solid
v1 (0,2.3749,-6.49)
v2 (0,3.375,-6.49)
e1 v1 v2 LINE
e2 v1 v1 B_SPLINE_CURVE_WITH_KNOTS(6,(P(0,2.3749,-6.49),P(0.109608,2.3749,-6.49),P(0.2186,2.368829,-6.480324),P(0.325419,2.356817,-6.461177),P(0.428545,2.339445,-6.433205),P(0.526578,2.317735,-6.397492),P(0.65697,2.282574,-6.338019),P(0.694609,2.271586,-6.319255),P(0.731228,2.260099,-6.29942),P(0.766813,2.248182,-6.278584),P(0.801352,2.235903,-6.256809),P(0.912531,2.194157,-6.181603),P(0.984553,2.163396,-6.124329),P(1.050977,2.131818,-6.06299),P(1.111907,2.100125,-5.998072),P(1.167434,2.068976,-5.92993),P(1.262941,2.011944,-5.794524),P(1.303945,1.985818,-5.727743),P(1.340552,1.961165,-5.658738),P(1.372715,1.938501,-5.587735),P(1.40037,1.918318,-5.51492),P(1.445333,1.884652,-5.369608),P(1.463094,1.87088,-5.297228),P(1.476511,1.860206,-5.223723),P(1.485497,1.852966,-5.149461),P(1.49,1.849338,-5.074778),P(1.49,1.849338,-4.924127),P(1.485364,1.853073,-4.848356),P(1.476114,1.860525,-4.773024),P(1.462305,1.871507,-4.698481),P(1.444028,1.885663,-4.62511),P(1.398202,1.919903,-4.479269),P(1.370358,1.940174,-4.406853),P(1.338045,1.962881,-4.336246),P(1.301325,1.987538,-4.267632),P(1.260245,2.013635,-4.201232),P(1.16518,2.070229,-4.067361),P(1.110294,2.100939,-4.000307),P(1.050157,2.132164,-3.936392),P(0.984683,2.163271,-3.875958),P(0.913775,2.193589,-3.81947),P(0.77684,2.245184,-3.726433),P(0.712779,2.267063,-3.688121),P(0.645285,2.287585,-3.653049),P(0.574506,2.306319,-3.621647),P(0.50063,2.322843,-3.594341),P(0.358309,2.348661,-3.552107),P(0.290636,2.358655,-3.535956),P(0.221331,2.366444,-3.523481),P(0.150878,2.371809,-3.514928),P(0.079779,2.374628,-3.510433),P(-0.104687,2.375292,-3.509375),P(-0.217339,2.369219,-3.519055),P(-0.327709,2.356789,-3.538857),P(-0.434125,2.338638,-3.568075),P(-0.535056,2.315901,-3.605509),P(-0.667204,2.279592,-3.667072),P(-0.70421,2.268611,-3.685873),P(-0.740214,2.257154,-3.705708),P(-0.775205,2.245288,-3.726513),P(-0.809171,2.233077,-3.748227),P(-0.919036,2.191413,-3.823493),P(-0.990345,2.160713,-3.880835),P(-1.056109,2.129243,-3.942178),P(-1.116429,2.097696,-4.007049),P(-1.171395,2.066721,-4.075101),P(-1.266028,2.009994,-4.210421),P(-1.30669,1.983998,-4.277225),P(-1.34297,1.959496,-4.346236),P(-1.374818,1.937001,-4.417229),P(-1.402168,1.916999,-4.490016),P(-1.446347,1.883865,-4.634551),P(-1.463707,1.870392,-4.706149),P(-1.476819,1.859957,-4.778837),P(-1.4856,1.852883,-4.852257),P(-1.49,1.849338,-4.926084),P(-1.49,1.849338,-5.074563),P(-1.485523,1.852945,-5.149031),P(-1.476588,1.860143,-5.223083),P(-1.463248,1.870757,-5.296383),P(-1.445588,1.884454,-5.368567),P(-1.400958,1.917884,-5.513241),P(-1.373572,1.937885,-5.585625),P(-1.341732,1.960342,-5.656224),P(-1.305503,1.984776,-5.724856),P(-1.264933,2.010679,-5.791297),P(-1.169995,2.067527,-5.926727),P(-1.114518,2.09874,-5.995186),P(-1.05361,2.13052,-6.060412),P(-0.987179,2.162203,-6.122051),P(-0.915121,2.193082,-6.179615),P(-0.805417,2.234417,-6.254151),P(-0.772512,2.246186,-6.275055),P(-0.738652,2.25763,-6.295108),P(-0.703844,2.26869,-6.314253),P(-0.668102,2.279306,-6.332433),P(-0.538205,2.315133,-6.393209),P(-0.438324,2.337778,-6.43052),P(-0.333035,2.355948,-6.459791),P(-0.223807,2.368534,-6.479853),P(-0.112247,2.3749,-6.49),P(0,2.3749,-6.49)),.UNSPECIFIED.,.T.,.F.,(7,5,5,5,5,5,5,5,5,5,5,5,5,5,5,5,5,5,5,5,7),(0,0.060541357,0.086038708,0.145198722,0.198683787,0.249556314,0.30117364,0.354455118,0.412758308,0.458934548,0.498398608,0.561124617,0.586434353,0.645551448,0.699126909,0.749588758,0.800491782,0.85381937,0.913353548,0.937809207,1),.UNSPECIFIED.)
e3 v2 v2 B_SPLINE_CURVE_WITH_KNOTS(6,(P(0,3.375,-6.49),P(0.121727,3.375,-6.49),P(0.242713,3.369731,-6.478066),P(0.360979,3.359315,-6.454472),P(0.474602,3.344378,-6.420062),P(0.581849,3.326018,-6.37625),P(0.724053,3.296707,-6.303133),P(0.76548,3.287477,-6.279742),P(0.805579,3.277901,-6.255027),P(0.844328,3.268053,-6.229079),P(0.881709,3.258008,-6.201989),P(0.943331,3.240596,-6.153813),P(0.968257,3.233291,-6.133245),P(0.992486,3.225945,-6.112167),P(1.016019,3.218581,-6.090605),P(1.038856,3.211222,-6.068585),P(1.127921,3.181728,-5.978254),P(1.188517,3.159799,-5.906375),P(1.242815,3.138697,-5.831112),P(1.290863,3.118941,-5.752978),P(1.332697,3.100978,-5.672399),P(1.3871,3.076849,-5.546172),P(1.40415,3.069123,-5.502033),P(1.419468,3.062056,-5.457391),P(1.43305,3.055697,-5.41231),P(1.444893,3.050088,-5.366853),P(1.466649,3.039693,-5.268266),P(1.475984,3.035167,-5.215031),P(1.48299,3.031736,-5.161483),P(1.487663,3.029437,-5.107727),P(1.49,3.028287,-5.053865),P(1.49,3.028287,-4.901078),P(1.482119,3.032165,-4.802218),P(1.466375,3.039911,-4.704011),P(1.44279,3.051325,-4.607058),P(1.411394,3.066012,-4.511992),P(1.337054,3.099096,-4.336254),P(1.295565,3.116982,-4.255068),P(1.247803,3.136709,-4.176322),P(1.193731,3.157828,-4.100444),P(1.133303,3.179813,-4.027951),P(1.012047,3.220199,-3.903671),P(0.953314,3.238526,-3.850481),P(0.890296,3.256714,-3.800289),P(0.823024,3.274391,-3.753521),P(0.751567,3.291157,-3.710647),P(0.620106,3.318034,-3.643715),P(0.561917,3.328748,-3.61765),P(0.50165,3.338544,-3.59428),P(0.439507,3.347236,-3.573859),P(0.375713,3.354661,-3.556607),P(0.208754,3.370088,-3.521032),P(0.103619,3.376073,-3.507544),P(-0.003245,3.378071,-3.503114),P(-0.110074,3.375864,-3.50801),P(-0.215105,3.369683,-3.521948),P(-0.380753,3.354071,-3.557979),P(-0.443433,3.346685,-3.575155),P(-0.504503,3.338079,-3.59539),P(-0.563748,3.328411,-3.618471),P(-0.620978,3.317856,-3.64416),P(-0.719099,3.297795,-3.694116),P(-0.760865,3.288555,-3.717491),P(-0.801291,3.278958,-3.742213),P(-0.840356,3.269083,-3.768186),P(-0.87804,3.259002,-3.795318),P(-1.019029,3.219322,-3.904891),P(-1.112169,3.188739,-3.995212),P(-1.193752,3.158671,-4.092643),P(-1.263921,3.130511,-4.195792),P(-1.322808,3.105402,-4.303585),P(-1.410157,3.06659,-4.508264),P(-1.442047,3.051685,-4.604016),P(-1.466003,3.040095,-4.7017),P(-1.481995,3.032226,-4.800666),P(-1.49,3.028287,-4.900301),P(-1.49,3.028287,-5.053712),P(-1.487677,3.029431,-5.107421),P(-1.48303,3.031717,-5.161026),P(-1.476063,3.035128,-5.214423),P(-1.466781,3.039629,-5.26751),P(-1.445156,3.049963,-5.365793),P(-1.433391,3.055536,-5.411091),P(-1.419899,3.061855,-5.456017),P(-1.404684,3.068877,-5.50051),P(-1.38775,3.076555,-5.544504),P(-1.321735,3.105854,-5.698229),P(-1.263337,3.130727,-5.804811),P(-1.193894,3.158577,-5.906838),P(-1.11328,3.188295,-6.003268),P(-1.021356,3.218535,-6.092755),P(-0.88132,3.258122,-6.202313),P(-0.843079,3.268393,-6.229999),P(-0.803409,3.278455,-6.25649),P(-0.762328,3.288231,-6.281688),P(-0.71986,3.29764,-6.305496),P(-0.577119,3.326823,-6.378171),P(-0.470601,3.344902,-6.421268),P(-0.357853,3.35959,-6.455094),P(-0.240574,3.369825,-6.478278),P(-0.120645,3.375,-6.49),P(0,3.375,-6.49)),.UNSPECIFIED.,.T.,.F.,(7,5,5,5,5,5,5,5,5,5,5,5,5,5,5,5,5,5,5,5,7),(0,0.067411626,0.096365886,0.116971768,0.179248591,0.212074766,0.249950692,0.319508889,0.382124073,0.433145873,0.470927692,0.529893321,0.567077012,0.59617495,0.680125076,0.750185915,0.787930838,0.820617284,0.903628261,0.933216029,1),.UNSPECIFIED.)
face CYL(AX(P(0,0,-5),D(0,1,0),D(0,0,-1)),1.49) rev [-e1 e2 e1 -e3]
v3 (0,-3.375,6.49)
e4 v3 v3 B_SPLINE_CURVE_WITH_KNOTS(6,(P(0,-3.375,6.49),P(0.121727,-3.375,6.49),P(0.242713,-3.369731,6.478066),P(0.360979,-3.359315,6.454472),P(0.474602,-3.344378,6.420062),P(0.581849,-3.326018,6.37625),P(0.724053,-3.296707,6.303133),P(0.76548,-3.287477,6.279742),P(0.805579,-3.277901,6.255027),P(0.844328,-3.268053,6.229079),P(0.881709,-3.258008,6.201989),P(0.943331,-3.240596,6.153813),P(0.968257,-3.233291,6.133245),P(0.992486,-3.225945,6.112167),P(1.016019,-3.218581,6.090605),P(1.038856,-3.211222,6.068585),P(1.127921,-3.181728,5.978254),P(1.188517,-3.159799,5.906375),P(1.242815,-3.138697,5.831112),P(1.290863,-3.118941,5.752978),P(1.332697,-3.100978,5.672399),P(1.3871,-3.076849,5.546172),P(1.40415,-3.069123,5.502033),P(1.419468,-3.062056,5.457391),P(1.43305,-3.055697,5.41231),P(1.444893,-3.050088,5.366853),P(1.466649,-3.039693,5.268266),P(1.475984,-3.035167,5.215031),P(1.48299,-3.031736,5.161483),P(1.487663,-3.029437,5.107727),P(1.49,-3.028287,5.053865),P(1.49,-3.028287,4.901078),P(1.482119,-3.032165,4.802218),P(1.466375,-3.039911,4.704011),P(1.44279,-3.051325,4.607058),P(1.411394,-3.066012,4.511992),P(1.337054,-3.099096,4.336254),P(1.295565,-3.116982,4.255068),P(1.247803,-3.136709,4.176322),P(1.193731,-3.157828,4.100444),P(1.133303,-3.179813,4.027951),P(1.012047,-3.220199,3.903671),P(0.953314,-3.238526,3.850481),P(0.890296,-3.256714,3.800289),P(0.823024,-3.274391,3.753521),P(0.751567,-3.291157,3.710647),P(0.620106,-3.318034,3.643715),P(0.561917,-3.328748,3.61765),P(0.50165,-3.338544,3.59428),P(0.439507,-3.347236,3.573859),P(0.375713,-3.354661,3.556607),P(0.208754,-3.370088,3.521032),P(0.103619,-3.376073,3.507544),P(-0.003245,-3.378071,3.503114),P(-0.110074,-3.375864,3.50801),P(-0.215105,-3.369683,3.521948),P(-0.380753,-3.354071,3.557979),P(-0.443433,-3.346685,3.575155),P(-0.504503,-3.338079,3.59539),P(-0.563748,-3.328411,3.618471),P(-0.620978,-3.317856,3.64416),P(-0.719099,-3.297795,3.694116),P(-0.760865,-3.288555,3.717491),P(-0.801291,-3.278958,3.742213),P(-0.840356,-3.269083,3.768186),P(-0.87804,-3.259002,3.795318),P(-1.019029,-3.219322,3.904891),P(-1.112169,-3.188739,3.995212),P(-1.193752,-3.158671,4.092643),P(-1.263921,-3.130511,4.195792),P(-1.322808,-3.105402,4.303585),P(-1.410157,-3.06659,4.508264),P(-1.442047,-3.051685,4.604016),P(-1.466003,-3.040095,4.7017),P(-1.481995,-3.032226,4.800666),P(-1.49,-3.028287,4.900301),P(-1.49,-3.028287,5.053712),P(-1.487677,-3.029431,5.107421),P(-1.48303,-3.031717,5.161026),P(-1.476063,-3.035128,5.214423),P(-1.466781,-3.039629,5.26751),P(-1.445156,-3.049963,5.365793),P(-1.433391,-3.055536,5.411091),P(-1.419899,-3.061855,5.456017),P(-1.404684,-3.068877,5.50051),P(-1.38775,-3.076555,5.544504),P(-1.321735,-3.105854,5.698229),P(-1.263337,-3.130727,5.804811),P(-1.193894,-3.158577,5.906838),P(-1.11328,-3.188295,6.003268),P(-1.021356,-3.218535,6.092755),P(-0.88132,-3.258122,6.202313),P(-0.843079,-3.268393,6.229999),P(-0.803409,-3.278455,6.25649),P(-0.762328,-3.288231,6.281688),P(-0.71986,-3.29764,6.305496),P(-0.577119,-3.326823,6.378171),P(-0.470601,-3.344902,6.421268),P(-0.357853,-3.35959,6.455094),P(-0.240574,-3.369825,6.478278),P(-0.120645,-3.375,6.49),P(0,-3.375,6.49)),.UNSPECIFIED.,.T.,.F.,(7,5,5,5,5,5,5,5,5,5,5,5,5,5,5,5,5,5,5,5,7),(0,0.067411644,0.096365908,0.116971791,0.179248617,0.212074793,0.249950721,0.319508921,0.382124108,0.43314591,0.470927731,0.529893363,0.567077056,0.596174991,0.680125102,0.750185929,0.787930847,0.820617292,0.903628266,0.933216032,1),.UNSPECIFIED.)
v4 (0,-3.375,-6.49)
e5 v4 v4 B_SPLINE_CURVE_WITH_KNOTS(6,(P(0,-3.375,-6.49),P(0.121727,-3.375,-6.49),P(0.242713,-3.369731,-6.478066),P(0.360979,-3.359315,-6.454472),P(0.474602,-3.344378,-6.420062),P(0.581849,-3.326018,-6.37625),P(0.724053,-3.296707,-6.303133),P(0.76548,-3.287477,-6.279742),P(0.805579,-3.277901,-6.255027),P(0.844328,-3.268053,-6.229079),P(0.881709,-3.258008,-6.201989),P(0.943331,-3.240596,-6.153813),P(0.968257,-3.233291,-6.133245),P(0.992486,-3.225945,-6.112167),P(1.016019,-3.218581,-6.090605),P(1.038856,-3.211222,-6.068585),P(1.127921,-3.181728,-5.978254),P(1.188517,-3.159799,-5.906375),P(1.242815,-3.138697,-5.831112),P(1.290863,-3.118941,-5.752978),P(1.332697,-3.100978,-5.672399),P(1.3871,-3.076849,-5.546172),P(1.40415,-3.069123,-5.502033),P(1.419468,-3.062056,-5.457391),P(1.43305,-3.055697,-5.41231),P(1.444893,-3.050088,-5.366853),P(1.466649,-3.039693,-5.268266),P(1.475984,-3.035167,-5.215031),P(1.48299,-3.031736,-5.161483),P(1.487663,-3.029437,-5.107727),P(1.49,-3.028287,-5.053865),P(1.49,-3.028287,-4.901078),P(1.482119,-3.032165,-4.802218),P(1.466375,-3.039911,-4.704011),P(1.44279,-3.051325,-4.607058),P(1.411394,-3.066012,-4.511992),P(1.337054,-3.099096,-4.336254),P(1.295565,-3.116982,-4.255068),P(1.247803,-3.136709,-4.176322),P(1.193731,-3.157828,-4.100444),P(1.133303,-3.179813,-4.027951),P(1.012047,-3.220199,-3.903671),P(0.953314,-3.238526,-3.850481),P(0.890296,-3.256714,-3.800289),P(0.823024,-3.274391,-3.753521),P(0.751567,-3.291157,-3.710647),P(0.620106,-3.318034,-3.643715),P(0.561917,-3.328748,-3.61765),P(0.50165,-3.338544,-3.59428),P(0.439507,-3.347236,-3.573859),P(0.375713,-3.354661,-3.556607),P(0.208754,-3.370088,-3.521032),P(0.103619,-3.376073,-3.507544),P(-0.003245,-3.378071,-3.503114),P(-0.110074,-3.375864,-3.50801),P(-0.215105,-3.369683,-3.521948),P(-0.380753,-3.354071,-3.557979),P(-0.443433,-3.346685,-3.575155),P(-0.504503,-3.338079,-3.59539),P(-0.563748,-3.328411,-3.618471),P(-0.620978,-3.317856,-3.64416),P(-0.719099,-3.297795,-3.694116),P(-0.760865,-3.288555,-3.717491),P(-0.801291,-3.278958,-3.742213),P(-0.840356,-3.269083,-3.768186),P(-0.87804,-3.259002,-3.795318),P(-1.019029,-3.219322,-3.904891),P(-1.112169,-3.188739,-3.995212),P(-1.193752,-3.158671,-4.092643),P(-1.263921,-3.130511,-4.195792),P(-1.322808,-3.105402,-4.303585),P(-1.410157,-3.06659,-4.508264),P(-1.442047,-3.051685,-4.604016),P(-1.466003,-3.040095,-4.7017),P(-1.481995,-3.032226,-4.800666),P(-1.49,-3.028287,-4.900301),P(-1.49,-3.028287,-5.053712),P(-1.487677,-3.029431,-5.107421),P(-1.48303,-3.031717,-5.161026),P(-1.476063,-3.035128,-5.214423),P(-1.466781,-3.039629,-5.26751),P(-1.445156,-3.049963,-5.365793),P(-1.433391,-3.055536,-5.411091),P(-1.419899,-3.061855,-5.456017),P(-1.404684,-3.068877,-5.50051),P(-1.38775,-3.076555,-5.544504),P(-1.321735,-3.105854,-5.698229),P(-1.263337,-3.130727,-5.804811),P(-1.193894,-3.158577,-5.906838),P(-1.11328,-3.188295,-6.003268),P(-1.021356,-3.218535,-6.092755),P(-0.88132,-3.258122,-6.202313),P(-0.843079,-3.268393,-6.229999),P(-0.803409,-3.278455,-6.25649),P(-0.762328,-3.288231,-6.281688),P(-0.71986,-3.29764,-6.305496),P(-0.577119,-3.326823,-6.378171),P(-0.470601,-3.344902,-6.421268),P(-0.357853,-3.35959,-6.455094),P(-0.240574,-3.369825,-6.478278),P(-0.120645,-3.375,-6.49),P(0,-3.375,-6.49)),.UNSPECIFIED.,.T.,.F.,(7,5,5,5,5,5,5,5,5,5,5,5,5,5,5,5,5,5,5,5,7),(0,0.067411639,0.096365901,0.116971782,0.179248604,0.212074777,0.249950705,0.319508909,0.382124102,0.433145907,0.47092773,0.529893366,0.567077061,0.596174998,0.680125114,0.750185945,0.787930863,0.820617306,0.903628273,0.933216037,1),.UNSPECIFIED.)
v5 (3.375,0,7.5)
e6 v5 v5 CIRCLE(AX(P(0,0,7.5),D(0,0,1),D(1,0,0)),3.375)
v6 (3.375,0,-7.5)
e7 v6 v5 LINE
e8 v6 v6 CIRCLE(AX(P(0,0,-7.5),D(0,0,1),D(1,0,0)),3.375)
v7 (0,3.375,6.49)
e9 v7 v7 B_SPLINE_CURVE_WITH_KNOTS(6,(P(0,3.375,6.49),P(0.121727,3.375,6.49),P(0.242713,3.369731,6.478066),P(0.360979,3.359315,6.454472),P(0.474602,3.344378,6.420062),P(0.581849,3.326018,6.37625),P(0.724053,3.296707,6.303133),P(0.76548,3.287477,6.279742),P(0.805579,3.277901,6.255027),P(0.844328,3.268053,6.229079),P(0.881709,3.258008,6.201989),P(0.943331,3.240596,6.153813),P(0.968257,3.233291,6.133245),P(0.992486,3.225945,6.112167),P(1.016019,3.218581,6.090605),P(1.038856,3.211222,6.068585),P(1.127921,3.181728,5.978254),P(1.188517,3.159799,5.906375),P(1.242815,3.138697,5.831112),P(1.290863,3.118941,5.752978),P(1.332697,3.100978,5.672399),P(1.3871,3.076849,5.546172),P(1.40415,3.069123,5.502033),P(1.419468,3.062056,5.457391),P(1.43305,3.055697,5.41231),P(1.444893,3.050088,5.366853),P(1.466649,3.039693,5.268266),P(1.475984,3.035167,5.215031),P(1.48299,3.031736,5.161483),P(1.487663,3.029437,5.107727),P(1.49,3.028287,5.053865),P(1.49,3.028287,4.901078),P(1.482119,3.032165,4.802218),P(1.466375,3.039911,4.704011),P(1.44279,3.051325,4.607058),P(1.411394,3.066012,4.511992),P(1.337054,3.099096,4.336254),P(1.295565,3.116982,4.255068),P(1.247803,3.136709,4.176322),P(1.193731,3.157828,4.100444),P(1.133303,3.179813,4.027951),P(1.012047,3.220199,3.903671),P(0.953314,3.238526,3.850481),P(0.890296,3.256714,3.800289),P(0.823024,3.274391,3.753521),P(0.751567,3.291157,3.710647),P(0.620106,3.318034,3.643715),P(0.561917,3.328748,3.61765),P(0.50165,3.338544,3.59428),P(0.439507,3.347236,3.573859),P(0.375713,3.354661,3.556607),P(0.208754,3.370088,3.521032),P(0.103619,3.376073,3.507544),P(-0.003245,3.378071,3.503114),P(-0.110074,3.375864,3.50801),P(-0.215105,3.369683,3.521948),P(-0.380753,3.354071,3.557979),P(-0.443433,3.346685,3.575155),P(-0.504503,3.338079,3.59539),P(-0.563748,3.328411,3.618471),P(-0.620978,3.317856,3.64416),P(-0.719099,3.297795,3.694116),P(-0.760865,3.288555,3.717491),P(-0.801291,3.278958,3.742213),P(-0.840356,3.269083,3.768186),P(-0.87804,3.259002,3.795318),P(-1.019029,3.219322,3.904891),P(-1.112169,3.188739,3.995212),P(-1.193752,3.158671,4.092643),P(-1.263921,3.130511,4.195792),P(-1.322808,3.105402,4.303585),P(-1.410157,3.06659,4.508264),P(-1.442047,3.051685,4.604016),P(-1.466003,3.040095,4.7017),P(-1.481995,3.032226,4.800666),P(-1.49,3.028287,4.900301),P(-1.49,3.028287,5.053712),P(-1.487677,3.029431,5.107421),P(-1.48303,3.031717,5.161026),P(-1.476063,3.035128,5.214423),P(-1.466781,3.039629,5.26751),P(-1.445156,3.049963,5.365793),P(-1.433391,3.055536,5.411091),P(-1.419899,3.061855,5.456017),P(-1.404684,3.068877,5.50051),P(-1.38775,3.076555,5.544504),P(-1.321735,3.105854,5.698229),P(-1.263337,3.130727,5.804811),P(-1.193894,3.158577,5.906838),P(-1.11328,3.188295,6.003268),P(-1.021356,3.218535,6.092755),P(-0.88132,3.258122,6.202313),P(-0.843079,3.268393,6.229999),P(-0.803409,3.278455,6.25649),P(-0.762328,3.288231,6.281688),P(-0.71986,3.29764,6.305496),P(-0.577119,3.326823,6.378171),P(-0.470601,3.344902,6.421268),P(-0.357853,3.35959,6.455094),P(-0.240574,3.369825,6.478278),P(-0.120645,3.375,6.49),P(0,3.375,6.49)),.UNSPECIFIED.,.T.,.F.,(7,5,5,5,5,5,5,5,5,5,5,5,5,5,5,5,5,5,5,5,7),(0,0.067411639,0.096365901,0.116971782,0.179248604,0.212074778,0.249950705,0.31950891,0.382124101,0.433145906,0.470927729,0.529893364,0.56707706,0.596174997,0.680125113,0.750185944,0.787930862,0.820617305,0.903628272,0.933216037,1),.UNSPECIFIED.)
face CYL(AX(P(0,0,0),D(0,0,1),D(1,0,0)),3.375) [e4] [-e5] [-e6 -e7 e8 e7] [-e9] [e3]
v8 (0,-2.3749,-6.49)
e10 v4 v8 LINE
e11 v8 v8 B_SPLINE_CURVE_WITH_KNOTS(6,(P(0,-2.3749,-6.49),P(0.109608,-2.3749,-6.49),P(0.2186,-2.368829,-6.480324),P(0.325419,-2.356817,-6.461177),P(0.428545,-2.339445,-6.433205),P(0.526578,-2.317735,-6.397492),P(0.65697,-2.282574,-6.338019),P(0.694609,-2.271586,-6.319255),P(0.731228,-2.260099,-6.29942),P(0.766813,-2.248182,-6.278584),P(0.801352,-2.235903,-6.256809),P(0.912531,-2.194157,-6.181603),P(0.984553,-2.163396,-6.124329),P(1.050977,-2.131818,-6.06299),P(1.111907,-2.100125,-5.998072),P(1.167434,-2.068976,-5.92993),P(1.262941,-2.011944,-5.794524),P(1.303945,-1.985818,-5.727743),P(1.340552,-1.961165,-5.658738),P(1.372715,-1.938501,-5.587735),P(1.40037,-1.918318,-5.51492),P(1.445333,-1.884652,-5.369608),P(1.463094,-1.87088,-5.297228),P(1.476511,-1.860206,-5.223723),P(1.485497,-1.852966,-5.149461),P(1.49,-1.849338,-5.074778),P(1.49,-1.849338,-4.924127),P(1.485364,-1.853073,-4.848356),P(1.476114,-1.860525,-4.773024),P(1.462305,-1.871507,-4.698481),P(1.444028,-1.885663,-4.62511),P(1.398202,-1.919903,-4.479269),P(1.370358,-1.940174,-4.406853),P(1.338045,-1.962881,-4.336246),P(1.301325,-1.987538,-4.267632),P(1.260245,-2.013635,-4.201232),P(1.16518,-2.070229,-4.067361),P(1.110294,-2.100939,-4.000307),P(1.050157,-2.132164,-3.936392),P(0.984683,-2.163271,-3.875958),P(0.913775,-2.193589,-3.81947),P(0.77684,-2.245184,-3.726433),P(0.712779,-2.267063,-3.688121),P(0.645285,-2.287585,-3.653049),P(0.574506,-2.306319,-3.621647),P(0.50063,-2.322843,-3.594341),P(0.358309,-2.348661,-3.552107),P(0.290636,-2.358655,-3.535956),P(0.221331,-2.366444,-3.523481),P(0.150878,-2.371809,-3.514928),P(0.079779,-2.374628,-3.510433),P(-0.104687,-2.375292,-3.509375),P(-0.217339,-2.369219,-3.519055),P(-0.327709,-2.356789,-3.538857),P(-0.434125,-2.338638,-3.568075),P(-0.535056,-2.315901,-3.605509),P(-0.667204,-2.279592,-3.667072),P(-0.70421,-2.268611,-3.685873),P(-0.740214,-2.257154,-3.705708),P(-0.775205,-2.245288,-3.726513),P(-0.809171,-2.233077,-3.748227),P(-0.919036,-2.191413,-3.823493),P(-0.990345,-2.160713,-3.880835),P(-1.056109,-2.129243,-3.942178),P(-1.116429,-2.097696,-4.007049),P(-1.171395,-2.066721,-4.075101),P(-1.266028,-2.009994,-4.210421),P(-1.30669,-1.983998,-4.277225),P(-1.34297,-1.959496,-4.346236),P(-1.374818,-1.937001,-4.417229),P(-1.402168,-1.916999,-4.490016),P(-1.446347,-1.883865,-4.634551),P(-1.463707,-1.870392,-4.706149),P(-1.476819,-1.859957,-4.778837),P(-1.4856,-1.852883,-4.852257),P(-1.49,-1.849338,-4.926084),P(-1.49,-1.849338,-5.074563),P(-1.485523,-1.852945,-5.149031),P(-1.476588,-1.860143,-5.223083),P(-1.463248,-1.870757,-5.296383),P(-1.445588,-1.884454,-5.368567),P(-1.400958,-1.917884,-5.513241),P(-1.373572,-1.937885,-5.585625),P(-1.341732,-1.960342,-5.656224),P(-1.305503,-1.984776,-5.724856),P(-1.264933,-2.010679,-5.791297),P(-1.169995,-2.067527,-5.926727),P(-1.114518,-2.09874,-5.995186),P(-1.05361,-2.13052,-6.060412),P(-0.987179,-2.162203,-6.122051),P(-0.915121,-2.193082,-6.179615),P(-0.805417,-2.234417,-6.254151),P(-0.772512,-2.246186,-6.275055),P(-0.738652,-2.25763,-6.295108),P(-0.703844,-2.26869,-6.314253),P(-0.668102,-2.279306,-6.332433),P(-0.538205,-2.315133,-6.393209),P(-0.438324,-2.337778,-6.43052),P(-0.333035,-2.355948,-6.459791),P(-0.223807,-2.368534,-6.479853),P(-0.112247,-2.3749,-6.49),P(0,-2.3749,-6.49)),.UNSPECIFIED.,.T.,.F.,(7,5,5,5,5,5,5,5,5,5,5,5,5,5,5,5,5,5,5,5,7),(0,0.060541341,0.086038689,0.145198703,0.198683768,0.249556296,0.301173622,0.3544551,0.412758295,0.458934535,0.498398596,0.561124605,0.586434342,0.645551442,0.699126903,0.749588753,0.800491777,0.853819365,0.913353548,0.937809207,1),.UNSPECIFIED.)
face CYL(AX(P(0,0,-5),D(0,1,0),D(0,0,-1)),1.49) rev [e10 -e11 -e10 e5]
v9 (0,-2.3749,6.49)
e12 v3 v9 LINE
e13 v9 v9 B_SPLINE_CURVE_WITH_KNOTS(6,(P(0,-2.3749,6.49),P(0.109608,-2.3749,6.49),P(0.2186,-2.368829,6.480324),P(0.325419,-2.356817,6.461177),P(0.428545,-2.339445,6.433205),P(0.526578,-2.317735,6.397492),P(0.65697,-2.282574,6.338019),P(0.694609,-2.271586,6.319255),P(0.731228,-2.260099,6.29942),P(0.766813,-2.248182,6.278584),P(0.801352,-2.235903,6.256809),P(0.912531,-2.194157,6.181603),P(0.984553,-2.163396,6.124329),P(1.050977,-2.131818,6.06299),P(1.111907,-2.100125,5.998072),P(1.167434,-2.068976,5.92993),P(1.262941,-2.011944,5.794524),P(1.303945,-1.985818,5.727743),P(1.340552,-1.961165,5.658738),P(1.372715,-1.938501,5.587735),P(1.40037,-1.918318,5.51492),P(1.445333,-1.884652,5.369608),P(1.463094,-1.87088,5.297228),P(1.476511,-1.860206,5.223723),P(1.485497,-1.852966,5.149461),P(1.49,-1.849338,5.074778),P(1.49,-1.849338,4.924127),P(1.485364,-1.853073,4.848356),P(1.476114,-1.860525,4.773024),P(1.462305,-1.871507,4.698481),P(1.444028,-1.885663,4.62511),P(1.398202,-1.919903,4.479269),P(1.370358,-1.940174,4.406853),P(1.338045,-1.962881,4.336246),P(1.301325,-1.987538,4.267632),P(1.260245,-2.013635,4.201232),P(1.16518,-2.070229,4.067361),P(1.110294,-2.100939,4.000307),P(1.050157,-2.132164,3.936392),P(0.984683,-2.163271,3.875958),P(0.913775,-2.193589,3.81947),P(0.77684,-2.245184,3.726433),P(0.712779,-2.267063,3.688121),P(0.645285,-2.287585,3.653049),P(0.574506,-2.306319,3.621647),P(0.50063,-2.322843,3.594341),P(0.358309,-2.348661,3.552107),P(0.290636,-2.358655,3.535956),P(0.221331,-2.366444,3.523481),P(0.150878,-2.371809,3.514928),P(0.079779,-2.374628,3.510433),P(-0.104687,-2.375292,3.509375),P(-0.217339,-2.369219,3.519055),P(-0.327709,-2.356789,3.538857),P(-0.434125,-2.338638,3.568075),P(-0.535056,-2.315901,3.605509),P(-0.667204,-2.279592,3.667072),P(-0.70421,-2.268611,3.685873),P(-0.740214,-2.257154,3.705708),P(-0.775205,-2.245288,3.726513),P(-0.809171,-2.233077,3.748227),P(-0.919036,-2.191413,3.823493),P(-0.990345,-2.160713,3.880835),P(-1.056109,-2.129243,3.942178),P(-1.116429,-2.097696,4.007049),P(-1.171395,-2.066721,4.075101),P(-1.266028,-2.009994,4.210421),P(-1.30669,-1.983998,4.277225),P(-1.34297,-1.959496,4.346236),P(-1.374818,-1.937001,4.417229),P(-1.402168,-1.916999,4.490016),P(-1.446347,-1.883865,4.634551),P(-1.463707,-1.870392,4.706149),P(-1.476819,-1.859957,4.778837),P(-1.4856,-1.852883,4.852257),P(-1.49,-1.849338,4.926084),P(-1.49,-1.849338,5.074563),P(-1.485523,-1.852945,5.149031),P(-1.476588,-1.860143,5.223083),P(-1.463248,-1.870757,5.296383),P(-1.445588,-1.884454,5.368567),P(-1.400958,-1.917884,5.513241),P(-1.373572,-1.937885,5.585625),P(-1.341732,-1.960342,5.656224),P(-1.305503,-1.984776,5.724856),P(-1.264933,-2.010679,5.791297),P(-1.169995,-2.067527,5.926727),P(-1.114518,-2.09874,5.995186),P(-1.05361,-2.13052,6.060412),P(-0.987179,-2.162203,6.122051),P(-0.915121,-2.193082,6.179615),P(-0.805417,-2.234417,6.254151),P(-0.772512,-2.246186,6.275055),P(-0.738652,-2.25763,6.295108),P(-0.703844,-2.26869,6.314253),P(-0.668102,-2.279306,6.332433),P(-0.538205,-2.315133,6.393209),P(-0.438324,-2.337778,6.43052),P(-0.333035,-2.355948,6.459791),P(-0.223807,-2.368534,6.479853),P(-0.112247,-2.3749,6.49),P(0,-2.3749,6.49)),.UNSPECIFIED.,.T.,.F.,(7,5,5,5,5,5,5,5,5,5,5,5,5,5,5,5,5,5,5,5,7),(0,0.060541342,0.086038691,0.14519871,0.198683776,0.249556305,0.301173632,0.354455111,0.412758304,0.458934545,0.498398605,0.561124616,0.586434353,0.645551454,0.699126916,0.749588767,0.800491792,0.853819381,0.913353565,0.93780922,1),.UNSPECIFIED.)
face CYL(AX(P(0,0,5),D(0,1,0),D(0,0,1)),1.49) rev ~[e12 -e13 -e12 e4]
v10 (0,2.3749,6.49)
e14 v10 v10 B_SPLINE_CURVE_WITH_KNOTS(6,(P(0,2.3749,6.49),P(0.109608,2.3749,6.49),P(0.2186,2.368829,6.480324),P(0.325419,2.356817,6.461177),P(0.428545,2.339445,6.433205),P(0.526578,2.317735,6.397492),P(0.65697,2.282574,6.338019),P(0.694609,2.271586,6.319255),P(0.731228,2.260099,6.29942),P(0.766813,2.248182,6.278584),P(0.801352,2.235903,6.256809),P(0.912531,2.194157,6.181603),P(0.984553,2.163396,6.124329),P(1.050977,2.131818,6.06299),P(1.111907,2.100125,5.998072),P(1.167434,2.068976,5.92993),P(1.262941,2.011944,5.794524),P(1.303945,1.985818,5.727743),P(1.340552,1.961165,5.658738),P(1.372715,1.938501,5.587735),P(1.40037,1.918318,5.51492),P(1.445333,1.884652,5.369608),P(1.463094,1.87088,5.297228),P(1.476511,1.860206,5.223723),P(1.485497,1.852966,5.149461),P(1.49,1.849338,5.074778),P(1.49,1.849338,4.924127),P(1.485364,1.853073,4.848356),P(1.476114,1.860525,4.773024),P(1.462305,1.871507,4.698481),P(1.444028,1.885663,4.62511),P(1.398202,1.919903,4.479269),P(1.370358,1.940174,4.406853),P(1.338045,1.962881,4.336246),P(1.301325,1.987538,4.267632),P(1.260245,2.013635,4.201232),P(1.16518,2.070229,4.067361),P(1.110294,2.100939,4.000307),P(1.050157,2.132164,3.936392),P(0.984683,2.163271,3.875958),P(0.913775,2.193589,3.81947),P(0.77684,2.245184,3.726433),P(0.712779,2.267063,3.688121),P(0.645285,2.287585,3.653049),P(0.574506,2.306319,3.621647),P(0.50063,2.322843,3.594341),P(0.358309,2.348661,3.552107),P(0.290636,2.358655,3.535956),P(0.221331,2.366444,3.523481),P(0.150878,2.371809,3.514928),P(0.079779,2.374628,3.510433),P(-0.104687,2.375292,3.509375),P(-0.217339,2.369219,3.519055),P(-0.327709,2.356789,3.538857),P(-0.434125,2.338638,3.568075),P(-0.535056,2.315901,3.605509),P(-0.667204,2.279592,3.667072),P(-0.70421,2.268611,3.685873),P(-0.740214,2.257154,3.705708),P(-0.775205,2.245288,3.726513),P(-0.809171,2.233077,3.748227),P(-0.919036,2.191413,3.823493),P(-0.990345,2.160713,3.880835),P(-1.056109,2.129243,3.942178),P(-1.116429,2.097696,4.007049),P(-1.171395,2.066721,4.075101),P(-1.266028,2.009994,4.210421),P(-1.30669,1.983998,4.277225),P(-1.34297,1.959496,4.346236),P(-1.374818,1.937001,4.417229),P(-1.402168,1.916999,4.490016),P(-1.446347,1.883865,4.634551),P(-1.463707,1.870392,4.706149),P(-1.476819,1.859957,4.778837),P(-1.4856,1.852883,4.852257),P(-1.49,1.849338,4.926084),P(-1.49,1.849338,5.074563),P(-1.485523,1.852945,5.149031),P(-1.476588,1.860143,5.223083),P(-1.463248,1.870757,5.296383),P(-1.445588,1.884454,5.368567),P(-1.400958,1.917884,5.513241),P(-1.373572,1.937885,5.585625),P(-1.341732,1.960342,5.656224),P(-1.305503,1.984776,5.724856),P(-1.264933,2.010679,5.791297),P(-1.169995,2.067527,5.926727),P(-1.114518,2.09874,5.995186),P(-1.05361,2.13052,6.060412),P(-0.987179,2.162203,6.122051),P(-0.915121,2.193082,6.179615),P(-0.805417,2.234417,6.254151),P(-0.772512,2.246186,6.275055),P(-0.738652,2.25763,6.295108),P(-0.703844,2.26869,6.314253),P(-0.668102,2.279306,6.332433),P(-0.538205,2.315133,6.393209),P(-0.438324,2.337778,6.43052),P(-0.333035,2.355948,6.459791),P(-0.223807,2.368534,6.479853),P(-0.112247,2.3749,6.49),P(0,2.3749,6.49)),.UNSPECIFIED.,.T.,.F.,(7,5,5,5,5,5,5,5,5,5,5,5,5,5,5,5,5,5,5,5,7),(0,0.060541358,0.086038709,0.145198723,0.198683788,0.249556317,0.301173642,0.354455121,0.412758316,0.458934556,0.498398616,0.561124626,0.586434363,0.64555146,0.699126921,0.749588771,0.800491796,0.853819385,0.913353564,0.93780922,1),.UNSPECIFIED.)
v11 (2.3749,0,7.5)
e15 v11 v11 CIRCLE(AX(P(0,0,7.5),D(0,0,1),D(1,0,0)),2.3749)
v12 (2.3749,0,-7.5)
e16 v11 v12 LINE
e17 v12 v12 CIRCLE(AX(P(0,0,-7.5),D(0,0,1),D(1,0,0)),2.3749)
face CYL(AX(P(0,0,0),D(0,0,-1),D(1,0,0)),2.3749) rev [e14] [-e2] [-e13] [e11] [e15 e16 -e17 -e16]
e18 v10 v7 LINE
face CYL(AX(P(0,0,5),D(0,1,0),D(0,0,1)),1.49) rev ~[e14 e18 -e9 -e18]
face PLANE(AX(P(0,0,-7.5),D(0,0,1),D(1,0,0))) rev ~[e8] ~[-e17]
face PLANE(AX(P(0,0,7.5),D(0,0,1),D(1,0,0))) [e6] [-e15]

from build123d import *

# Parameters (mm, degrees)
SKETCH1_R           = 3.375
SKETCH1_R_2         = 2.3749
BOSS_EXTRUDE1_DEPTH = 7.5
SKETCH2_R           = 1.49
CUT_EXTRUDE1_DEPTH  = 12.5


with BuildPart() as part:
    # Sketch1 → Boss-Extrude1 (new, symmetric)
    with BuildSketch(Plane.XY):
        Circle(SKETCH1_R)
        Circle(SKETCH1_R_2, mode=Mode.SUBTRACT)
    extrude(amount=BOSS_EXTRUDE1_DEPTH, both=True)

    # Sketch2 → Cut-Extrude1 (cut, symmetric)
    with BuildSketch(Plane(origin=(0, 0, 0), x_dir=(1, 0, 0), z_dir=(0, 1, 0))):
        with Locations(Location((0, -5, 0), (0, 0, 270))):
            Circle(SKETCH2_R)
    cut_extrude1 = extrude(amount=CUT_EXTRUDE1_DEPTH, both=True, mode=Mode.SUBTRACT)

    # Mirror1: Cut-Extrude1 across plane
    add(cut_extrude1.mirror(Plane.XY), mode=Mode.SUBTRACT)


solid = part.part
